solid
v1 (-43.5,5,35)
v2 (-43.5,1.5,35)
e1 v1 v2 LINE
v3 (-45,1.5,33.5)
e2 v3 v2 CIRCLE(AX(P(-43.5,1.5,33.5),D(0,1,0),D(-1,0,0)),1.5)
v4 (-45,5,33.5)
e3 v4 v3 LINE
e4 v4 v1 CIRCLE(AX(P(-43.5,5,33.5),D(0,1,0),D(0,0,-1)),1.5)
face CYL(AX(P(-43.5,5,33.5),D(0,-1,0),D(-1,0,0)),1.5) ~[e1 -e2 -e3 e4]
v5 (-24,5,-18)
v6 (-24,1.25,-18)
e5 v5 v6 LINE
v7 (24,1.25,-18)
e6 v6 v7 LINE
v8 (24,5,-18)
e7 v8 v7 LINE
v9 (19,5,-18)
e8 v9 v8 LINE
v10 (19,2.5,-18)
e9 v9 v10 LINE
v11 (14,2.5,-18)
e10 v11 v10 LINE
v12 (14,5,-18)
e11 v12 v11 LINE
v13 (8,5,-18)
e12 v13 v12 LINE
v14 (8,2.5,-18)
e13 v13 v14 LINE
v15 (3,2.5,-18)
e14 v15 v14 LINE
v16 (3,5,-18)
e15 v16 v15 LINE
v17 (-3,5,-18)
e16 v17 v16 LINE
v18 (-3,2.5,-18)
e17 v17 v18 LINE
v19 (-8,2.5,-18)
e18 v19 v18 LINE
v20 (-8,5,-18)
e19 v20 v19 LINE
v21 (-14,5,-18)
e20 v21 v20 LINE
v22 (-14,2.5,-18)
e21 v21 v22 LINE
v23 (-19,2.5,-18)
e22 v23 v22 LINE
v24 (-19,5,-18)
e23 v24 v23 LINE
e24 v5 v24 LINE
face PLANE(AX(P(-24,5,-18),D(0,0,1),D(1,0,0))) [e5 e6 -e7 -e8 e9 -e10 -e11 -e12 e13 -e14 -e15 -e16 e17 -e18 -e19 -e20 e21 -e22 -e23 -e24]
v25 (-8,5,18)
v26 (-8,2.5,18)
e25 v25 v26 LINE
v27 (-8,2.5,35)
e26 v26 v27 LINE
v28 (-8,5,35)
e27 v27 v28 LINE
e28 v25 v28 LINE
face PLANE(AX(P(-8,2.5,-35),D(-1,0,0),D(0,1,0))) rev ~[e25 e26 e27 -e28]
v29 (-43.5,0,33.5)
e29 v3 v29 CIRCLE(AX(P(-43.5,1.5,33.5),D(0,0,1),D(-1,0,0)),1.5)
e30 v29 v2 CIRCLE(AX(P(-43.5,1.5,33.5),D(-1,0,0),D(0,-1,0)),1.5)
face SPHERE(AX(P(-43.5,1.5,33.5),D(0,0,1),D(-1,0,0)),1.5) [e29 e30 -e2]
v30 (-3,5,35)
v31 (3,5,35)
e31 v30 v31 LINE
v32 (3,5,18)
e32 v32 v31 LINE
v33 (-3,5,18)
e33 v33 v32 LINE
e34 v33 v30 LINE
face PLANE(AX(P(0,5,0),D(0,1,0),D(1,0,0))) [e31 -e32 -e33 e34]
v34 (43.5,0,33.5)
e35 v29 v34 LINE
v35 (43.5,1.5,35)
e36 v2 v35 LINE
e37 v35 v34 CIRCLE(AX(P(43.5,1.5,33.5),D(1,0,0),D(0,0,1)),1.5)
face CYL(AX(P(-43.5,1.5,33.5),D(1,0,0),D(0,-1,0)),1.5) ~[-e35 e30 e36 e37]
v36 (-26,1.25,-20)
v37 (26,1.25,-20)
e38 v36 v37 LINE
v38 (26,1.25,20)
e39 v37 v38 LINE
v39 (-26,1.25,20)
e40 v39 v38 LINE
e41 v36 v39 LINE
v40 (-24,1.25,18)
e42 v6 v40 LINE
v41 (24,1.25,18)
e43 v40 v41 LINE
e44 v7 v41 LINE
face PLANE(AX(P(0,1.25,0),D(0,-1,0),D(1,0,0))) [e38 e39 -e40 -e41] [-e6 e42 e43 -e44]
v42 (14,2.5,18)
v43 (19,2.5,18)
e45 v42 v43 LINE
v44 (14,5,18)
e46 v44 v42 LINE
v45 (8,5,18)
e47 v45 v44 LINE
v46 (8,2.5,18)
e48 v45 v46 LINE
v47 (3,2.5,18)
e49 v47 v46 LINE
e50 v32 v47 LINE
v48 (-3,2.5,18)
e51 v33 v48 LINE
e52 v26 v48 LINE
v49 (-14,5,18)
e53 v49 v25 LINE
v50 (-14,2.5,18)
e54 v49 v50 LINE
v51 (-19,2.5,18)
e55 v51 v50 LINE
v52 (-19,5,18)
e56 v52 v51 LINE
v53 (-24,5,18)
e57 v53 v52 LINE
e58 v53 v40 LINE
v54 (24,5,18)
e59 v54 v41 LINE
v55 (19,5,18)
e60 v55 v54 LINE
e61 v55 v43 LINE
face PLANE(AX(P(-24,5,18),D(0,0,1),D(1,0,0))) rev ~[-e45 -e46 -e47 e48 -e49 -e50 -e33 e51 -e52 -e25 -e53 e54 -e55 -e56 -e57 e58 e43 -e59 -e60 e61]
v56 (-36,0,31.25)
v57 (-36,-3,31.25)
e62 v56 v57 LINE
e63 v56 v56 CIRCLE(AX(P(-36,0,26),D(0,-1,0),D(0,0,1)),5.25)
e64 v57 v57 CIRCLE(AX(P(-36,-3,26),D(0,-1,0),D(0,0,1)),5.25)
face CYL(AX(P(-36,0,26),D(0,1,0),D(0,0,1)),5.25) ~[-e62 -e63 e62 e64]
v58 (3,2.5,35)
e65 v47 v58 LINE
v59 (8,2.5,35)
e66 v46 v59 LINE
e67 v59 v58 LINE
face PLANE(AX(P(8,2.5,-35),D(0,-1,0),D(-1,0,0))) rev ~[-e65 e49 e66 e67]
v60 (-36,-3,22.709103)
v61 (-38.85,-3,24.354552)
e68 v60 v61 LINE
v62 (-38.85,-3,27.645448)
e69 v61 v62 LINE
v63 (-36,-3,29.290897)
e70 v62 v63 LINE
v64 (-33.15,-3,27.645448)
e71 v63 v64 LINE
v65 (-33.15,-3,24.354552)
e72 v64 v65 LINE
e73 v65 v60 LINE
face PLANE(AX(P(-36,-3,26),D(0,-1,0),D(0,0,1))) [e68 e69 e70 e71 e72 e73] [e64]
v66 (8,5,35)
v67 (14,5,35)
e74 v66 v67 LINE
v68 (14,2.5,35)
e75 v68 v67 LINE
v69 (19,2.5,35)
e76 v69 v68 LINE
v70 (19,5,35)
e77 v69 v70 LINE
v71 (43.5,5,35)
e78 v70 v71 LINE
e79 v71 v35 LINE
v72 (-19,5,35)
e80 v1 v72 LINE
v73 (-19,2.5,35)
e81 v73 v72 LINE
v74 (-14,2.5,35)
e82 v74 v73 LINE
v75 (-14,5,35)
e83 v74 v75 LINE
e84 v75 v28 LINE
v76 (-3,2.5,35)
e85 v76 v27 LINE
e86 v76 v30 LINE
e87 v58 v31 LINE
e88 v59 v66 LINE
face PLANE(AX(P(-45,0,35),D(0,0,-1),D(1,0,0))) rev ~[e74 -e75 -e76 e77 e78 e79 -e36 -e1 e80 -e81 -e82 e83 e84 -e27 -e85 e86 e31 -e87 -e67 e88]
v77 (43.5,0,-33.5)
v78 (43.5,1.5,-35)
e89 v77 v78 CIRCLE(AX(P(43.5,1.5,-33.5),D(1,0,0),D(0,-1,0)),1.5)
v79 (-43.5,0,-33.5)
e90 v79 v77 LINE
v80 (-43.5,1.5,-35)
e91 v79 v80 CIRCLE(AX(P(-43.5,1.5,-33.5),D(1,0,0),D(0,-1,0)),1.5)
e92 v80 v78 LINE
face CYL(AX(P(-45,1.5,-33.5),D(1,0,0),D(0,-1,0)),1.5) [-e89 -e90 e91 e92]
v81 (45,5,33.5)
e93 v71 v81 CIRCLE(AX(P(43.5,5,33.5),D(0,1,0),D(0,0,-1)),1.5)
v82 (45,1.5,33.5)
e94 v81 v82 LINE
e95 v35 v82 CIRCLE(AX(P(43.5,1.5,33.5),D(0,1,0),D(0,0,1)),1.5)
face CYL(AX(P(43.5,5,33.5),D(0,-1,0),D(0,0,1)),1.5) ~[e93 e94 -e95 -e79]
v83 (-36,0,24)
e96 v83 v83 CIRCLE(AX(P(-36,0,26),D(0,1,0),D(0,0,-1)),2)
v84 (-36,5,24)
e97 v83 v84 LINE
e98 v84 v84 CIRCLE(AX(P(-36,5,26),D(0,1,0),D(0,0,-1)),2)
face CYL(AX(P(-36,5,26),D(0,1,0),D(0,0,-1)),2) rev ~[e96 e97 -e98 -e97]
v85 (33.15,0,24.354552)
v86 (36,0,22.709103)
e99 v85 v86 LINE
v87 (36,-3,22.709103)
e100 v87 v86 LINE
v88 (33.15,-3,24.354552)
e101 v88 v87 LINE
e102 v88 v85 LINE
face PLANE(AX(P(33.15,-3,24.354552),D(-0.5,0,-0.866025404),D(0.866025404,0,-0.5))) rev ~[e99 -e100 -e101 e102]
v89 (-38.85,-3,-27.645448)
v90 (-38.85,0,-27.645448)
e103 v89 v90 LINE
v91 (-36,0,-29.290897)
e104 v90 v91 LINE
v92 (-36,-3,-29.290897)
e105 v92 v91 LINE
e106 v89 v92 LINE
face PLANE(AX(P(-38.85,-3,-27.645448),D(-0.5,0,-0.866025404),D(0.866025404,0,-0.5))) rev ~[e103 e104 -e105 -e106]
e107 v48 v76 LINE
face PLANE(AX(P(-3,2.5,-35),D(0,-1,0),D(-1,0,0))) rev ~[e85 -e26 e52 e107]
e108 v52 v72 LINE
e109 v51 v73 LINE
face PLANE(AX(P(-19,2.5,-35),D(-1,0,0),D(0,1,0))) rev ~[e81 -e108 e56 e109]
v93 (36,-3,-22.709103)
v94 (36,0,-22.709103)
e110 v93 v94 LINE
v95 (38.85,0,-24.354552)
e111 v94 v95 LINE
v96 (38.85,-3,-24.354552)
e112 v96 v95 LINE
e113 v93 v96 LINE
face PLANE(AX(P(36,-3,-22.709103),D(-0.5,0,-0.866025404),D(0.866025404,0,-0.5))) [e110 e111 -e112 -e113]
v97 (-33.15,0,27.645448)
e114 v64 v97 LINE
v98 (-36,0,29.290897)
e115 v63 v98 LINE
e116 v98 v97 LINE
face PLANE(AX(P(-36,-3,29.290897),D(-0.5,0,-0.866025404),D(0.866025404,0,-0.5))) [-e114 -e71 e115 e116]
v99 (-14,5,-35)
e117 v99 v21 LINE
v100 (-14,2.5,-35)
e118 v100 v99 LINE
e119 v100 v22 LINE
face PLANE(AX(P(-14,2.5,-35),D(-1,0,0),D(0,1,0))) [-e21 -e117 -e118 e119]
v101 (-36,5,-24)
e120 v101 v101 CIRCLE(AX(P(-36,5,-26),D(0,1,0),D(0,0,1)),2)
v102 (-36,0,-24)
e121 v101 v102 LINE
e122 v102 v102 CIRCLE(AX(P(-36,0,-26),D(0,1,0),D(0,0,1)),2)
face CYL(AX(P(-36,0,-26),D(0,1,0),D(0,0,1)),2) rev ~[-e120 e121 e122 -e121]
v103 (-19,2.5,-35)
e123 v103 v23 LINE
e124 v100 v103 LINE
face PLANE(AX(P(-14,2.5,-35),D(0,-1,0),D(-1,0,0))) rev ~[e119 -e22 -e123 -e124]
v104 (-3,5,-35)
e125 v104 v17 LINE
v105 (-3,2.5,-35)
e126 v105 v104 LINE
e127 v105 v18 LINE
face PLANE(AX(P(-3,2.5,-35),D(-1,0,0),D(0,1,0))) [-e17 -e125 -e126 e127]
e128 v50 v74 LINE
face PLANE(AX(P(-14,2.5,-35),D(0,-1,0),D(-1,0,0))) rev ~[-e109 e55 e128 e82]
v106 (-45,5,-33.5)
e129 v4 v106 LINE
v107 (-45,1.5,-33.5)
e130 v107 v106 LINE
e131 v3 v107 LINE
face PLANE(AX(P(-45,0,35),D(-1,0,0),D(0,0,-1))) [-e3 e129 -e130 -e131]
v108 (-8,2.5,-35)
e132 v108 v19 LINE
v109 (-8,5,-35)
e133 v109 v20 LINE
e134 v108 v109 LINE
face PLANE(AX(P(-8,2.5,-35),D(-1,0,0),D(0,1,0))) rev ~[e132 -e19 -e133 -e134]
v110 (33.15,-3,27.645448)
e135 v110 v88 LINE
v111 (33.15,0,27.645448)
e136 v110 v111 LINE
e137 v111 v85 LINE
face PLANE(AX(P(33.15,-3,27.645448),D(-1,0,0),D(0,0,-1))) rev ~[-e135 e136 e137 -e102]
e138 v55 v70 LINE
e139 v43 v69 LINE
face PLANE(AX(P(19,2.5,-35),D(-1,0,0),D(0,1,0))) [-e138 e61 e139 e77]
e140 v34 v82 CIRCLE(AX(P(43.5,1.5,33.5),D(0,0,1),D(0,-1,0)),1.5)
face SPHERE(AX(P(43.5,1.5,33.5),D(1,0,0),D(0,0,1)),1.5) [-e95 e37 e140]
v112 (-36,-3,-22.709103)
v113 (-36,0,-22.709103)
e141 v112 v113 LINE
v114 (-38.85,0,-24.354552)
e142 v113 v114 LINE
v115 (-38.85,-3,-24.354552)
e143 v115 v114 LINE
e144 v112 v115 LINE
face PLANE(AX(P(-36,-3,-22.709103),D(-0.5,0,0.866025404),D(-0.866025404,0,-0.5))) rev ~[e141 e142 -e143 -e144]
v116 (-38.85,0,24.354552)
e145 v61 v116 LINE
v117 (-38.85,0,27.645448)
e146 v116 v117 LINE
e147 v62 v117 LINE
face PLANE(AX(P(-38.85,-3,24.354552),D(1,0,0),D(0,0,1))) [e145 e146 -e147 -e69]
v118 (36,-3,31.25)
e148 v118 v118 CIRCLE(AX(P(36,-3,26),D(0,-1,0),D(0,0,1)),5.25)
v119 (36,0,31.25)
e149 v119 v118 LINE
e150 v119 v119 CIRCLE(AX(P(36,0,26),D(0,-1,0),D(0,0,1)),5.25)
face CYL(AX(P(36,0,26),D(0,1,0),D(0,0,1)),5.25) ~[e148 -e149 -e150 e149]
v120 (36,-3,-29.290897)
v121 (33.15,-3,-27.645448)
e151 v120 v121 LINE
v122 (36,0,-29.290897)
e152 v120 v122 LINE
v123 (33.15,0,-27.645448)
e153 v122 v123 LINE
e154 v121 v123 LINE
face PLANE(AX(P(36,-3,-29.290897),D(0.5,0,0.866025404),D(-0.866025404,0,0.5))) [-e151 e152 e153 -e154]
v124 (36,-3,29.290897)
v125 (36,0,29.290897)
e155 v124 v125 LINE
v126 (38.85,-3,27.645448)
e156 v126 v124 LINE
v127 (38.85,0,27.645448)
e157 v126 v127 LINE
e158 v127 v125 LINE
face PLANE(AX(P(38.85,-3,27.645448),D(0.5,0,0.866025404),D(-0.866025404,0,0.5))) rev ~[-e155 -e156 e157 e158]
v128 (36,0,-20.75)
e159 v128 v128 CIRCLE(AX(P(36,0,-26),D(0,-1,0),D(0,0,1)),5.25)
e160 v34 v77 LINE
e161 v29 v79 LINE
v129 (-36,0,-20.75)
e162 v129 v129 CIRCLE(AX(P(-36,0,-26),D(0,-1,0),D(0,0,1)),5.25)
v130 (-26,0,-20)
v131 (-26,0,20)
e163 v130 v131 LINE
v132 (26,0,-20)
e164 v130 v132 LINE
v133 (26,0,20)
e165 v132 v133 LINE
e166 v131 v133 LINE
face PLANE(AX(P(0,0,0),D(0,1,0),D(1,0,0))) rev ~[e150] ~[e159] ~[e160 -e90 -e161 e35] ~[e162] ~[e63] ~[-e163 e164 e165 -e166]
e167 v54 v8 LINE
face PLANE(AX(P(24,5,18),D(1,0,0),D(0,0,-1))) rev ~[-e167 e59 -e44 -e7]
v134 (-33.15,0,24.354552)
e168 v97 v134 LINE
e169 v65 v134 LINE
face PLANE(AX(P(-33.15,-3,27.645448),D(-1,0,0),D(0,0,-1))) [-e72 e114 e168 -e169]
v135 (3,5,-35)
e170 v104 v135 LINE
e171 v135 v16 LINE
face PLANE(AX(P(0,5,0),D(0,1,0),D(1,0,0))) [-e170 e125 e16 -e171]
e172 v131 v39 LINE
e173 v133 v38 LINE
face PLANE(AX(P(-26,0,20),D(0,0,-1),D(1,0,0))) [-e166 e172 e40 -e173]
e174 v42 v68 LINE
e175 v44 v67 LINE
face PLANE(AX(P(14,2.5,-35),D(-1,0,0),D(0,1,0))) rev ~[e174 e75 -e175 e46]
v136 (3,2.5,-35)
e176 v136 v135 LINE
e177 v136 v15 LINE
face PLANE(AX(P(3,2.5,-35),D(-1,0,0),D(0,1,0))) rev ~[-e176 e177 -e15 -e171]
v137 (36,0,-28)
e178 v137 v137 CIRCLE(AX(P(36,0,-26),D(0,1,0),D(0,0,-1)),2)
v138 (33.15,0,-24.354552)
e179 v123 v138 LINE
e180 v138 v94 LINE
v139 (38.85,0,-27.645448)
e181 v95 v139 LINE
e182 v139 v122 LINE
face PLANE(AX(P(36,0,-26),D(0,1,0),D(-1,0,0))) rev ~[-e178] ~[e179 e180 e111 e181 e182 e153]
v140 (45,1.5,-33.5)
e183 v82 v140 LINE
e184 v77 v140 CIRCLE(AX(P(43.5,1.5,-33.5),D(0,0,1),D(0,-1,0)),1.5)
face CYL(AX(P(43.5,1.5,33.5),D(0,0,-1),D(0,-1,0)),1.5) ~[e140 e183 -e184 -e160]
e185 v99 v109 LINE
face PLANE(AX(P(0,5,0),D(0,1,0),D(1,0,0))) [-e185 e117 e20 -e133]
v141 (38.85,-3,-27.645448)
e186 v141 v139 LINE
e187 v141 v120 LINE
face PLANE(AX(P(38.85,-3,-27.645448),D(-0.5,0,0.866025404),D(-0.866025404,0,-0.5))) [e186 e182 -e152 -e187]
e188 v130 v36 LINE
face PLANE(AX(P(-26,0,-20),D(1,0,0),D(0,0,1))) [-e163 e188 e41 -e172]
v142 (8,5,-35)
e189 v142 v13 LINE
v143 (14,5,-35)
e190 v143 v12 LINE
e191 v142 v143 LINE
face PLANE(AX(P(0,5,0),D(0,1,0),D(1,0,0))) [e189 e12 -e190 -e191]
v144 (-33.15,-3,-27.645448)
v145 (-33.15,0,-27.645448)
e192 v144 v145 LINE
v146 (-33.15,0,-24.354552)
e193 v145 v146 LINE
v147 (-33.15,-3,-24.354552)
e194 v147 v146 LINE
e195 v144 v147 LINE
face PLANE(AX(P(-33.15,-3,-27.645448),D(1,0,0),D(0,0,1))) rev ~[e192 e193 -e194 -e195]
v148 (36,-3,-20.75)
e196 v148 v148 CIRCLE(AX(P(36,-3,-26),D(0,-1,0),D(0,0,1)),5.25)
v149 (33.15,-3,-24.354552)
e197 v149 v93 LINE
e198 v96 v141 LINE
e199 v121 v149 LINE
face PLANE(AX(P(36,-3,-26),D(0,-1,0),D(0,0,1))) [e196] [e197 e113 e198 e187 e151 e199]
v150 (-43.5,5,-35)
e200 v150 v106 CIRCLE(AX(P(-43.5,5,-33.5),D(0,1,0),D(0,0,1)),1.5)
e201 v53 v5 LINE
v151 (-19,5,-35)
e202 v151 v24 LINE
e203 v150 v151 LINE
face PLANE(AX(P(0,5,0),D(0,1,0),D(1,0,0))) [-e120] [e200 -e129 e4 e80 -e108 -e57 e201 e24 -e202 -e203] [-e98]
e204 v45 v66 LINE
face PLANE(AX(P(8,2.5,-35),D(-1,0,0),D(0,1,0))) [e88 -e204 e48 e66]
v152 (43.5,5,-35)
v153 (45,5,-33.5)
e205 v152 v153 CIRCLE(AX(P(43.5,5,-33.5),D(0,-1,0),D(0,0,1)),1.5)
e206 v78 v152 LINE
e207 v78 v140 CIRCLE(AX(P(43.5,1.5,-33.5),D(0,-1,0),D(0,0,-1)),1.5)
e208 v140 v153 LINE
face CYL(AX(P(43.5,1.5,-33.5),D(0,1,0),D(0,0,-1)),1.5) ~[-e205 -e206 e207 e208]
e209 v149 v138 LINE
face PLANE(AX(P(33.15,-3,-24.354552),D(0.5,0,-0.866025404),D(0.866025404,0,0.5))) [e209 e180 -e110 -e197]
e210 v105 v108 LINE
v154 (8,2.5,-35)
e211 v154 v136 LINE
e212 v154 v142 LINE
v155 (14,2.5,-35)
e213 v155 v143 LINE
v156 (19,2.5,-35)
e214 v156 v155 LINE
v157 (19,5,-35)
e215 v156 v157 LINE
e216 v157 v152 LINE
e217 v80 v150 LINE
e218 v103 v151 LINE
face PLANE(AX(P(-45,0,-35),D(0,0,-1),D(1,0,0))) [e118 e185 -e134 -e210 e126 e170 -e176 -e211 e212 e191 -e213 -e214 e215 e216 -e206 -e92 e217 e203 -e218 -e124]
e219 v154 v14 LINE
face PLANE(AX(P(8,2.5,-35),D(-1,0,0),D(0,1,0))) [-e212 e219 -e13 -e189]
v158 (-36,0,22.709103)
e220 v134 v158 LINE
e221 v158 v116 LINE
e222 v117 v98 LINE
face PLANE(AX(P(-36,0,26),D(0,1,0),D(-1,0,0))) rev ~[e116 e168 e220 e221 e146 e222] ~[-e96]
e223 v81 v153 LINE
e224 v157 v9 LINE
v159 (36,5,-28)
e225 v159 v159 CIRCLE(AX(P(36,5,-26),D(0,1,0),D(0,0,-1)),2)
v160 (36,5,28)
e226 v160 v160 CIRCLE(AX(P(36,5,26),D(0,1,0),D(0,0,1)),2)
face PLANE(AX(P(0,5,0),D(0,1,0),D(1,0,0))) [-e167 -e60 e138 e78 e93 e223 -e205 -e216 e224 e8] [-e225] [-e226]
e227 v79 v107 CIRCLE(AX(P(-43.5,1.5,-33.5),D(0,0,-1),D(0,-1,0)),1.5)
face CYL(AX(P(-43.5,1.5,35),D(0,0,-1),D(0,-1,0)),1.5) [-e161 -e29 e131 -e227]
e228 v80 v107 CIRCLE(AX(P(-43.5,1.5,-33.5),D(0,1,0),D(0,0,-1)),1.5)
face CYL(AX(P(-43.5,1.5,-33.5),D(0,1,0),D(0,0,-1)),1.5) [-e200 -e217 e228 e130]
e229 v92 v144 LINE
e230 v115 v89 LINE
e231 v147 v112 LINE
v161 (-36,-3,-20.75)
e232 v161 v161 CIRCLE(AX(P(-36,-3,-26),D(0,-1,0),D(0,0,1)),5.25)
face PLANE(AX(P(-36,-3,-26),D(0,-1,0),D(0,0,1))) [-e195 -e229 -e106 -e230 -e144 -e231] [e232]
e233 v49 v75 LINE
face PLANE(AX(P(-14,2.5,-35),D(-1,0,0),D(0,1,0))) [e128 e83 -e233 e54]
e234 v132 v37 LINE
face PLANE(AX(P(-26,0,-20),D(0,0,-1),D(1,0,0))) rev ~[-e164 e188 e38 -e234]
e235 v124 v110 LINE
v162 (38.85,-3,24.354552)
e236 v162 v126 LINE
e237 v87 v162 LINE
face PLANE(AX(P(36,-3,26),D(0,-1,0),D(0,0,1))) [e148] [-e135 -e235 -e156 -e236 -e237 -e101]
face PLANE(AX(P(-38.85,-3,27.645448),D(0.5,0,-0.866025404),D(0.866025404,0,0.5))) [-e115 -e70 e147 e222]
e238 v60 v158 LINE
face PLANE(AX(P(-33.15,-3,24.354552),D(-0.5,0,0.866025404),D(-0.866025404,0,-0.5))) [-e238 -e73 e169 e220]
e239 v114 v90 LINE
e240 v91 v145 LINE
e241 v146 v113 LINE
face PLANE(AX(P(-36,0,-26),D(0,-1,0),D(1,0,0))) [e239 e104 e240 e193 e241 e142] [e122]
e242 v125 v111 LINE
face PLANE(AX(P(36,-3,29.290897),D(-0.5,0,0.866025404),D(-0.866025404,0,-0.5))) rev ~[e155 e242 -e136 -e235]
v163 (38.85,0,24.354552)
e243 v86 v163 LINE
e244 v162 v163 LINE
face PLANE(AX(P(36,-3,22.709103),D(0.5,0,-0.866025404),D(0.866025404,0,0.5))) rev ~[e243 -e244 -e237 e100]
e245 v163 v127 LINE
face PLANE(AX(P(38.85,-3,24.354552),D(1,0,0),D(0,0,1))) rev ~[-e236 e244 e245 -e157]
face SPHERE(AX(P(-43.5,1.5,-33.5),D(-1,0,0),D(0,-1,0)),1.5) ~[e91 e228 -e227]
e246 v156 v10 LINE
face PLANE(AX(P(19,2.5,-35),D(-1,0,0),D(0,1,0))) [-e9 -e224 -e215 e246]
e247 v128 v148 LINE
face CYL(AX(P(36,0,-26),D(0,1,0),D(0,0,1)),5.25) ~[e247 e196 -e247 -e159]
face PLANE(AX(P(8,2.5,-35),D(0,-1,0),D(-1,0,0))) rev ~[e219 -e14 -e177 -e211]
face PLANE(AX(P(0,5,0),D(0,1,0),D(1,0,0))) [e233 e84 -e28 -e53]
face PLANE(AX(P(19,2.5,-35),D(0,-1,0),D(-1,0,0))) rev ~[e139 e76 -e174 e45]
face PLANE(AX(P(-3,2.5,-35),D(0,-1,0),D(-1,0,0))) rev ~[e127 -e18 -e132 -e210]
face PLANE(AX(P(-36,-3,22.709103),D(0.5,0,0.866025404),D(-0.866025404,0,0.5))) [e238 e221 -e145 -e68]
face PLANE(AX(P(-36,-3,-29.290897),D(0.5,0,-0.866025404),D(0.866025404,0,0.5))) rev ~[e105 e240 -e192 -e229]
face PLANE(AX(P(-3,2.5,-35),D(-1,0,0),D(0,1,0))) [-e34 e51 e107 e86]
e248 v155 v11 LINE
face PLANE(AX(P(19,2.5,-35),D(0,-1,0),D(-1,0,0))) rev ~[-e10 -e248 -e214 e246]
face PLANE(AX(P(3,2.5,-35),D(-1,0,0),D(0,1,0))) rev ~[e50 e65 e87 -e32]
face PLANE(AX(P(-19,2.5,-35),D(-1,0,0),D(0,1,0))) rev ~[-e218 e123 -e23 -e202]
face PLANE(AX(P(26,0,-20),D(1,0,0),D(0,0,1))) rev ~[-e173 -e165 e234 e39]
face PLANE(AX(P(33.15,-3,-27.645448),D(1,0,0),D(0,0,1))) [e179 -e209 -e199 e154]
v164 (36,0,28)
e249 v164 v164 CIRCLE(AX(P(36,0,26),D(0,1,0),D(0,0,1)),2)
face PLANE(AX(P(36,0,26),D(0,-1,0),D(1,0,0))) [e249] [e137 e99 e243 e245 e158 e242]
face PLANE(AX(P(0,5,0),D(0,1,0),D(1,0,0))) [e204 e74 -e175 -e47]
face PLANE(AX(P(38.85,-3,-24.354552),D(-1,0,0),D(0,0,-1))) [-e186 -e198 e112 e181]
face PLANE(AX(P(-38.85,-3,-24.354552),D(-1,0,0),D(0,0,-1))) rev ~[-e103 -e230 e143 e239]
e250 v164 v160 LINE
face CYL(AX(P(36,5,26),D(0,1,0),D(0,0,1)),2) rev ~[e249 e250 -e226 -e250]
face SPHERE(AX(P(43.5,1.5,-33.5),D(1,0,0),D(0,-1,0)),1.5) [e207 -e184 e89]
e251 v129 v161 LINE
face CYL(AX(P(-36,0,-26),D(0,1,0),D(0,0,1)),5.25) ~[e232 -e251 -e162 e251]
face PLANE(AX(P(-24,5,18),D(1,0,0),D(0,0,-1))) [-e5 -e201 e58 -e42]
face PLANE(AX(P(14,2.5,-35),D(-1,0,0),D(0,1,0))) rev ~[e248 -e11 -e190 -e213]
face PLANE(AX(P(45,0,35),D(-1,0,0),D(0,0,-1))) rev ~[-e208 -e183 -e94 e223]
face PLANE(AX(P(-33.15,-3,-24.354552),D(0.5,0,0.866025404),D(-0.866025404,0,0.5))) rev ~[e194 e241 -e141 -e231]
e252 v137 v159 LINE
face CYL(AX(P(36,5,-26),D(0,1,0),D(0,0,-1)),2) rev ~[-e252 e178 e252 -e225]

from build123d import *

# Parameters (mm, degrees)
SKETCH1_W            = 90
SKETCH1_H            = 70
BASE_PLATE_DEPTH     = 5
SKETCH7_R            = 2
SCREW_CUT_DEPTH      = 5
SKETCH13_W           = 48
SKETCH13_H           = 36
SCREEN_CUT_OUT_DEPTH = 10
SKETCH21_W           = 52
SKETCH21_H           = 40
SKETCH21_W_2         = 48
SKETCH21_H_2         = 36
SCREEN_MOUNT_DEPTH   = 1.25
SKETCH15_R           = 5.25
M3_NUT_OUTER_DEPTH   = 3
SKETCH18_R           = 2
SCREW_HOLE_DEPTH     = 3
M3_NUT_DEPTH         = 3
WATER_GROVES_REACH   = 85.367
SKETCH20_W           = 5
SKETCH20_H           = 2.5
FILLET1_R            = 1.5
FILLET2_R            = 1.5
FILLET3_R            = 1.5
FILLET4_R            = 1.5


with BuildPart() as part:
    # Sketch1 → Base Plate (new body)
    with BuildSketch(Plane(origin=(0, 0, 0), x_dir=(1, 0, 0), z_dir=(0, 1, 0))):
        Rectangle(SKETCH1_W, SKETCH1_H)
    extrude(amount=BASE_PLATE_DEPTH)

    # Sketch7 → Screw Cut (cut)
    with BuildSketch(Plane(origin=(0, 5, 0), x_dir=(1, 0, 0), z_dir=(0, 1, 0))):
        with Locations(Location((-36, 26, 0), (0, 0, 270))):
            Circle(SKETCH7_R)
        with Locations(Location((-36, -26, 0), (0, 0, 90))):
            Circle(SKETCH7_R)
        with Locations(Location((36, -26, 0), (0, 0, 270))):
            Circle(SKETCH7_R)
        with Locations(Location((36, 26, 0), (0, 0, 90))):
            Circle(SKETCH7_R)
    extrude(amount=-SCREW_CUT_DEPTH, mode=Mode.SUBTRACT)

    # Sketch13 → Screen Cut Out (cut)
    with BuildSketch(Plane(origin=(0, 5, 0), x_dir=(1, 0, 0), z_dir=(0, 1, 0))):
        Rectangle(SKETCH13_W, SKETCH13_H)
    extrude(amount=-SCREEN_CUT_OUT_DEPTH, mode=Mode.SUBTRACT)

    # Sketch21 → Screen Mount (cut)
    with BuildSketch(Plane.XZ):
        Rectangle(SKETCH21_W, SKETCH21_H)
        Rectangle(SKETCH21_W_2, SKETCH21_H_2, mode=Mode.SUBTRACT)
    extrude(amount=-SCREEN_MOUNT_DEPTH, mode=Mode.SUBTRACT)

    # Sketch15 → M3 Nut Outer (add)
    with BuildSketch(Plane(origin=(-42.5, 0, -25), x_dir=(1, 0, 0), z_dir=(0, -1, 0))):
        with Locations(Location((6.5, -1, 0), (0, 0, 90))):
            Circle(SKETCH15_R)
        with Locations(Location((6.5, 51, 0), (0, 0, 90))):
            Circle(SKETCH15_R)
        with Locations(Location((78.5, 51, 0), (0, 0, 90))):
            Circle(SKETCH15_R)
        with Locations(Location((78.5, -1, 0), (0, 0, 90))):
            Circle(SKETCH15_R)
    extrude(amount=M3_NUT_OUTER_DEPTH)

    # Sketch18 → Screw Hole (cut)
    with BuildSketch(Plane(origin=(0, 0, 0), x_dir=(1, 0, 0), z_dir=(0, 1, 0))):
        with Locations(Location((-36, 26, 0), (0, 0, 270))):
            Circle(SKETCH18_R)
        with Locations(Location((-36, -26, 0), (0, 0, 90))):
            Circle(SKETCH18_R)
        with Locations(Location((36, 26, 0), (0, 0, 90))):
            Circle(SKETCH18_R)
        with Locations(Location((36, -26, 0), (0, 0, 270))):
            Circle(SKETCH18_R)
    extrude(amount=-SCREW_HOLE_DEPTH, mode=Mode.SUBTRACT)

    # Sketch19 → M3 Nut (cut)
    with BuildSketch(Plane.XZ.offset(3)):
        Polygon((-36, -22.709103466), (-38.85, -24.354551733), (-38.85, -27.645448267), (-36, -29.290896534), (-33.15, -27.645448267), (-33.15, -24.354551733), align=None)
        Polygon((-33.15, 24.354551733), (-36, 22.709103466), (-38.85, 24.354551733), (-38.85, 27.645448267), (-36, 29.290896534), (-33.15, 27.645448267), align=None)
        Polygon((33.15, -24.354551733), (36, -22.709103466), (38.85, -24.354551733), (38.85, -27.645448267), (36, -29.290896534), (33.15, -27.645448267), align=None)
        Polygon((36, 22.709103466), (38.85, 24.354551733), (38.85, 27.645448267), (36, 29.290896534), (33.15, 27.645448267), (33.15, 24.354551733), align=None)
    extrude(amount=-M3_NUT_DEPTH, mode=Mode.SUBTRACT)

    # Water Groves: up to this face of the body (flat: up to its plane)
    water_groves_end = Plane(part.part.faces().sort_by_distance((0, 2.5, 35))[0])
    # Sketch20 → Water Groves (cut, up to the picked face)
    with BuildSketch(Plane(origin=(0, 0, -35), x_dir=(-1, 0, 0), z_dir=(0, 0, -1)), mode=Mode.PRIVATE) as water_groves_sk1:
        with Locations((-5.5, 3.75)):
            Rectangle(SKETCH20_W, SKETCH20_H)
    water_groves_tool1 = split(extrude(water_groves_sk1.sketch, amount=-WATER_GROVES_REACH, mode=Mode.PRIVATE), bisect_by=water_groves_end, keep=Keep.BOTH, mode=Mode.PRIVATE)
    # Sketch20 → Water Groves (cut, up to the picked face)
    with BuildSketch(Plane(origin=(0, 0, -35), x_dir=(-1, 0, 0), z_dir=(0, 0, -1)), mode=Mode.PRIVATE) as water_groves_sk2:
        with Locations((-16.5, 3.75)):
            Rectangle(SKETCH20_W, SKETCH20_H)
    water_groves_tool2 = split(extrude(water_groves_sk2.sketch, amount=-WATER_GROVES_REACH, mode=Mode.PRIVATE), bisect_by=water_groves_end, keep=Keep.BOTH, mode=Mode.PRIVATE)
    # Sketch20 → Water Groves (cut, up to the picked face)
    with BuildSketch(Plane(origin=(0, 0, -35), x_dir=(-1, 0, 0), z_dir=(0, 0, -1)), mode=Mode.PRIVATE) as water_groves_sk3:
        with Locations((16.5, 3.75)):
            Rectangle(SKETCH20_W, SKETCH20_H)
    water_groves_tool3 = split(extrude(water_groves_sk3.sketch, amount=-WATER_GROVES_REACH, mode=Mode.PRIVATE), bisect_by=water_groves_end, keep=Keep.BOTH, mode=Mode.PRIVATE)
    # Sketch20 → Water Groves (cut, up to the picked face)
    with BuildSketch(Plane(origin=(0, 0, -35), x_dir=(-1, 0, 0), z_dir=(0, 0, -1)), mode=Mode.PRIVATE) as water_groves_sk4:
        with Locations((5.5, 3.75)):
            Rectangle(SKETCH20_W, SKETCH20_H)
    water_groves_tool4 = split(extrude(water_groves_sk4.sketch, amount=-WATER_GROVES_REACH, mode=Mode.PRIVATE), bisect_by=water_groves_end, keep=Keep.BOTH, mode=Mode.PRIVATE)
    add(water_groves_tool1.solids().sort_by(Axis((5.5, 3.75, -35), (0, 0, 1)))[0], mode=Mode.SUBTRACT)
    add(water_groves_tool2.solids().sort_by(Axis((16.5, 3.75, -35), (0, 0, 1)))[0], mode=Mode.SUBTRACT)
    add(water_groves_tool3.solids().sort_by(Axis((-16.5, 3.75, -35), (0, 0, 1)))[0], mode=Mode.SUBTRACT)
    add(water_groves_tool4.solids().sort_by(Axis((-5.5, 3.75, -35), (0, 0, 1)))[0], mode=Mode.SUBTRACT)

    # Fillet1
    fillet1_edges = [part.edges().sort_by_distance(p)[0] for p in [
        (0, 0, -35),
    ]]
    fillet(fillet1_edges, radius=FILLET1_R)

    # Fillet2
    fillet2_edges = [part.edges().sort_by_distance(p)[0] for p in [
        (-45, 0, 0.75),
        (-45, 0.439339828, -34.560660172),
        (-45, 3.25, -35),
    ]]
    fillet(fillet2_edges, radius=FILLET2_R)

    # Fillet3
    fillet3_edges = [part.edges().sort_by_distance(p)[0] for p in [
        (0.75, 0, 35),
        (-44.560660172, 0.439339828, 35),
        (-45, 3.25, 35),
    ]]
    fillet(fillet3_edges, radius=FILLET3_R)

    # Fillet4
    fillet4_edges = [part.edges().sort_by_distance(p)[0] for p in [
        (45, 0.439339828, -34.560660172),
        (45, 0, 0),
        (45, 0.439339828, 34.560660172),
        (45, 3.25, -35),
        (45, 3.25, 35),
    ]]
    fillet(fillet4_edges, radius=FILLET4_R)


solid = part.part
